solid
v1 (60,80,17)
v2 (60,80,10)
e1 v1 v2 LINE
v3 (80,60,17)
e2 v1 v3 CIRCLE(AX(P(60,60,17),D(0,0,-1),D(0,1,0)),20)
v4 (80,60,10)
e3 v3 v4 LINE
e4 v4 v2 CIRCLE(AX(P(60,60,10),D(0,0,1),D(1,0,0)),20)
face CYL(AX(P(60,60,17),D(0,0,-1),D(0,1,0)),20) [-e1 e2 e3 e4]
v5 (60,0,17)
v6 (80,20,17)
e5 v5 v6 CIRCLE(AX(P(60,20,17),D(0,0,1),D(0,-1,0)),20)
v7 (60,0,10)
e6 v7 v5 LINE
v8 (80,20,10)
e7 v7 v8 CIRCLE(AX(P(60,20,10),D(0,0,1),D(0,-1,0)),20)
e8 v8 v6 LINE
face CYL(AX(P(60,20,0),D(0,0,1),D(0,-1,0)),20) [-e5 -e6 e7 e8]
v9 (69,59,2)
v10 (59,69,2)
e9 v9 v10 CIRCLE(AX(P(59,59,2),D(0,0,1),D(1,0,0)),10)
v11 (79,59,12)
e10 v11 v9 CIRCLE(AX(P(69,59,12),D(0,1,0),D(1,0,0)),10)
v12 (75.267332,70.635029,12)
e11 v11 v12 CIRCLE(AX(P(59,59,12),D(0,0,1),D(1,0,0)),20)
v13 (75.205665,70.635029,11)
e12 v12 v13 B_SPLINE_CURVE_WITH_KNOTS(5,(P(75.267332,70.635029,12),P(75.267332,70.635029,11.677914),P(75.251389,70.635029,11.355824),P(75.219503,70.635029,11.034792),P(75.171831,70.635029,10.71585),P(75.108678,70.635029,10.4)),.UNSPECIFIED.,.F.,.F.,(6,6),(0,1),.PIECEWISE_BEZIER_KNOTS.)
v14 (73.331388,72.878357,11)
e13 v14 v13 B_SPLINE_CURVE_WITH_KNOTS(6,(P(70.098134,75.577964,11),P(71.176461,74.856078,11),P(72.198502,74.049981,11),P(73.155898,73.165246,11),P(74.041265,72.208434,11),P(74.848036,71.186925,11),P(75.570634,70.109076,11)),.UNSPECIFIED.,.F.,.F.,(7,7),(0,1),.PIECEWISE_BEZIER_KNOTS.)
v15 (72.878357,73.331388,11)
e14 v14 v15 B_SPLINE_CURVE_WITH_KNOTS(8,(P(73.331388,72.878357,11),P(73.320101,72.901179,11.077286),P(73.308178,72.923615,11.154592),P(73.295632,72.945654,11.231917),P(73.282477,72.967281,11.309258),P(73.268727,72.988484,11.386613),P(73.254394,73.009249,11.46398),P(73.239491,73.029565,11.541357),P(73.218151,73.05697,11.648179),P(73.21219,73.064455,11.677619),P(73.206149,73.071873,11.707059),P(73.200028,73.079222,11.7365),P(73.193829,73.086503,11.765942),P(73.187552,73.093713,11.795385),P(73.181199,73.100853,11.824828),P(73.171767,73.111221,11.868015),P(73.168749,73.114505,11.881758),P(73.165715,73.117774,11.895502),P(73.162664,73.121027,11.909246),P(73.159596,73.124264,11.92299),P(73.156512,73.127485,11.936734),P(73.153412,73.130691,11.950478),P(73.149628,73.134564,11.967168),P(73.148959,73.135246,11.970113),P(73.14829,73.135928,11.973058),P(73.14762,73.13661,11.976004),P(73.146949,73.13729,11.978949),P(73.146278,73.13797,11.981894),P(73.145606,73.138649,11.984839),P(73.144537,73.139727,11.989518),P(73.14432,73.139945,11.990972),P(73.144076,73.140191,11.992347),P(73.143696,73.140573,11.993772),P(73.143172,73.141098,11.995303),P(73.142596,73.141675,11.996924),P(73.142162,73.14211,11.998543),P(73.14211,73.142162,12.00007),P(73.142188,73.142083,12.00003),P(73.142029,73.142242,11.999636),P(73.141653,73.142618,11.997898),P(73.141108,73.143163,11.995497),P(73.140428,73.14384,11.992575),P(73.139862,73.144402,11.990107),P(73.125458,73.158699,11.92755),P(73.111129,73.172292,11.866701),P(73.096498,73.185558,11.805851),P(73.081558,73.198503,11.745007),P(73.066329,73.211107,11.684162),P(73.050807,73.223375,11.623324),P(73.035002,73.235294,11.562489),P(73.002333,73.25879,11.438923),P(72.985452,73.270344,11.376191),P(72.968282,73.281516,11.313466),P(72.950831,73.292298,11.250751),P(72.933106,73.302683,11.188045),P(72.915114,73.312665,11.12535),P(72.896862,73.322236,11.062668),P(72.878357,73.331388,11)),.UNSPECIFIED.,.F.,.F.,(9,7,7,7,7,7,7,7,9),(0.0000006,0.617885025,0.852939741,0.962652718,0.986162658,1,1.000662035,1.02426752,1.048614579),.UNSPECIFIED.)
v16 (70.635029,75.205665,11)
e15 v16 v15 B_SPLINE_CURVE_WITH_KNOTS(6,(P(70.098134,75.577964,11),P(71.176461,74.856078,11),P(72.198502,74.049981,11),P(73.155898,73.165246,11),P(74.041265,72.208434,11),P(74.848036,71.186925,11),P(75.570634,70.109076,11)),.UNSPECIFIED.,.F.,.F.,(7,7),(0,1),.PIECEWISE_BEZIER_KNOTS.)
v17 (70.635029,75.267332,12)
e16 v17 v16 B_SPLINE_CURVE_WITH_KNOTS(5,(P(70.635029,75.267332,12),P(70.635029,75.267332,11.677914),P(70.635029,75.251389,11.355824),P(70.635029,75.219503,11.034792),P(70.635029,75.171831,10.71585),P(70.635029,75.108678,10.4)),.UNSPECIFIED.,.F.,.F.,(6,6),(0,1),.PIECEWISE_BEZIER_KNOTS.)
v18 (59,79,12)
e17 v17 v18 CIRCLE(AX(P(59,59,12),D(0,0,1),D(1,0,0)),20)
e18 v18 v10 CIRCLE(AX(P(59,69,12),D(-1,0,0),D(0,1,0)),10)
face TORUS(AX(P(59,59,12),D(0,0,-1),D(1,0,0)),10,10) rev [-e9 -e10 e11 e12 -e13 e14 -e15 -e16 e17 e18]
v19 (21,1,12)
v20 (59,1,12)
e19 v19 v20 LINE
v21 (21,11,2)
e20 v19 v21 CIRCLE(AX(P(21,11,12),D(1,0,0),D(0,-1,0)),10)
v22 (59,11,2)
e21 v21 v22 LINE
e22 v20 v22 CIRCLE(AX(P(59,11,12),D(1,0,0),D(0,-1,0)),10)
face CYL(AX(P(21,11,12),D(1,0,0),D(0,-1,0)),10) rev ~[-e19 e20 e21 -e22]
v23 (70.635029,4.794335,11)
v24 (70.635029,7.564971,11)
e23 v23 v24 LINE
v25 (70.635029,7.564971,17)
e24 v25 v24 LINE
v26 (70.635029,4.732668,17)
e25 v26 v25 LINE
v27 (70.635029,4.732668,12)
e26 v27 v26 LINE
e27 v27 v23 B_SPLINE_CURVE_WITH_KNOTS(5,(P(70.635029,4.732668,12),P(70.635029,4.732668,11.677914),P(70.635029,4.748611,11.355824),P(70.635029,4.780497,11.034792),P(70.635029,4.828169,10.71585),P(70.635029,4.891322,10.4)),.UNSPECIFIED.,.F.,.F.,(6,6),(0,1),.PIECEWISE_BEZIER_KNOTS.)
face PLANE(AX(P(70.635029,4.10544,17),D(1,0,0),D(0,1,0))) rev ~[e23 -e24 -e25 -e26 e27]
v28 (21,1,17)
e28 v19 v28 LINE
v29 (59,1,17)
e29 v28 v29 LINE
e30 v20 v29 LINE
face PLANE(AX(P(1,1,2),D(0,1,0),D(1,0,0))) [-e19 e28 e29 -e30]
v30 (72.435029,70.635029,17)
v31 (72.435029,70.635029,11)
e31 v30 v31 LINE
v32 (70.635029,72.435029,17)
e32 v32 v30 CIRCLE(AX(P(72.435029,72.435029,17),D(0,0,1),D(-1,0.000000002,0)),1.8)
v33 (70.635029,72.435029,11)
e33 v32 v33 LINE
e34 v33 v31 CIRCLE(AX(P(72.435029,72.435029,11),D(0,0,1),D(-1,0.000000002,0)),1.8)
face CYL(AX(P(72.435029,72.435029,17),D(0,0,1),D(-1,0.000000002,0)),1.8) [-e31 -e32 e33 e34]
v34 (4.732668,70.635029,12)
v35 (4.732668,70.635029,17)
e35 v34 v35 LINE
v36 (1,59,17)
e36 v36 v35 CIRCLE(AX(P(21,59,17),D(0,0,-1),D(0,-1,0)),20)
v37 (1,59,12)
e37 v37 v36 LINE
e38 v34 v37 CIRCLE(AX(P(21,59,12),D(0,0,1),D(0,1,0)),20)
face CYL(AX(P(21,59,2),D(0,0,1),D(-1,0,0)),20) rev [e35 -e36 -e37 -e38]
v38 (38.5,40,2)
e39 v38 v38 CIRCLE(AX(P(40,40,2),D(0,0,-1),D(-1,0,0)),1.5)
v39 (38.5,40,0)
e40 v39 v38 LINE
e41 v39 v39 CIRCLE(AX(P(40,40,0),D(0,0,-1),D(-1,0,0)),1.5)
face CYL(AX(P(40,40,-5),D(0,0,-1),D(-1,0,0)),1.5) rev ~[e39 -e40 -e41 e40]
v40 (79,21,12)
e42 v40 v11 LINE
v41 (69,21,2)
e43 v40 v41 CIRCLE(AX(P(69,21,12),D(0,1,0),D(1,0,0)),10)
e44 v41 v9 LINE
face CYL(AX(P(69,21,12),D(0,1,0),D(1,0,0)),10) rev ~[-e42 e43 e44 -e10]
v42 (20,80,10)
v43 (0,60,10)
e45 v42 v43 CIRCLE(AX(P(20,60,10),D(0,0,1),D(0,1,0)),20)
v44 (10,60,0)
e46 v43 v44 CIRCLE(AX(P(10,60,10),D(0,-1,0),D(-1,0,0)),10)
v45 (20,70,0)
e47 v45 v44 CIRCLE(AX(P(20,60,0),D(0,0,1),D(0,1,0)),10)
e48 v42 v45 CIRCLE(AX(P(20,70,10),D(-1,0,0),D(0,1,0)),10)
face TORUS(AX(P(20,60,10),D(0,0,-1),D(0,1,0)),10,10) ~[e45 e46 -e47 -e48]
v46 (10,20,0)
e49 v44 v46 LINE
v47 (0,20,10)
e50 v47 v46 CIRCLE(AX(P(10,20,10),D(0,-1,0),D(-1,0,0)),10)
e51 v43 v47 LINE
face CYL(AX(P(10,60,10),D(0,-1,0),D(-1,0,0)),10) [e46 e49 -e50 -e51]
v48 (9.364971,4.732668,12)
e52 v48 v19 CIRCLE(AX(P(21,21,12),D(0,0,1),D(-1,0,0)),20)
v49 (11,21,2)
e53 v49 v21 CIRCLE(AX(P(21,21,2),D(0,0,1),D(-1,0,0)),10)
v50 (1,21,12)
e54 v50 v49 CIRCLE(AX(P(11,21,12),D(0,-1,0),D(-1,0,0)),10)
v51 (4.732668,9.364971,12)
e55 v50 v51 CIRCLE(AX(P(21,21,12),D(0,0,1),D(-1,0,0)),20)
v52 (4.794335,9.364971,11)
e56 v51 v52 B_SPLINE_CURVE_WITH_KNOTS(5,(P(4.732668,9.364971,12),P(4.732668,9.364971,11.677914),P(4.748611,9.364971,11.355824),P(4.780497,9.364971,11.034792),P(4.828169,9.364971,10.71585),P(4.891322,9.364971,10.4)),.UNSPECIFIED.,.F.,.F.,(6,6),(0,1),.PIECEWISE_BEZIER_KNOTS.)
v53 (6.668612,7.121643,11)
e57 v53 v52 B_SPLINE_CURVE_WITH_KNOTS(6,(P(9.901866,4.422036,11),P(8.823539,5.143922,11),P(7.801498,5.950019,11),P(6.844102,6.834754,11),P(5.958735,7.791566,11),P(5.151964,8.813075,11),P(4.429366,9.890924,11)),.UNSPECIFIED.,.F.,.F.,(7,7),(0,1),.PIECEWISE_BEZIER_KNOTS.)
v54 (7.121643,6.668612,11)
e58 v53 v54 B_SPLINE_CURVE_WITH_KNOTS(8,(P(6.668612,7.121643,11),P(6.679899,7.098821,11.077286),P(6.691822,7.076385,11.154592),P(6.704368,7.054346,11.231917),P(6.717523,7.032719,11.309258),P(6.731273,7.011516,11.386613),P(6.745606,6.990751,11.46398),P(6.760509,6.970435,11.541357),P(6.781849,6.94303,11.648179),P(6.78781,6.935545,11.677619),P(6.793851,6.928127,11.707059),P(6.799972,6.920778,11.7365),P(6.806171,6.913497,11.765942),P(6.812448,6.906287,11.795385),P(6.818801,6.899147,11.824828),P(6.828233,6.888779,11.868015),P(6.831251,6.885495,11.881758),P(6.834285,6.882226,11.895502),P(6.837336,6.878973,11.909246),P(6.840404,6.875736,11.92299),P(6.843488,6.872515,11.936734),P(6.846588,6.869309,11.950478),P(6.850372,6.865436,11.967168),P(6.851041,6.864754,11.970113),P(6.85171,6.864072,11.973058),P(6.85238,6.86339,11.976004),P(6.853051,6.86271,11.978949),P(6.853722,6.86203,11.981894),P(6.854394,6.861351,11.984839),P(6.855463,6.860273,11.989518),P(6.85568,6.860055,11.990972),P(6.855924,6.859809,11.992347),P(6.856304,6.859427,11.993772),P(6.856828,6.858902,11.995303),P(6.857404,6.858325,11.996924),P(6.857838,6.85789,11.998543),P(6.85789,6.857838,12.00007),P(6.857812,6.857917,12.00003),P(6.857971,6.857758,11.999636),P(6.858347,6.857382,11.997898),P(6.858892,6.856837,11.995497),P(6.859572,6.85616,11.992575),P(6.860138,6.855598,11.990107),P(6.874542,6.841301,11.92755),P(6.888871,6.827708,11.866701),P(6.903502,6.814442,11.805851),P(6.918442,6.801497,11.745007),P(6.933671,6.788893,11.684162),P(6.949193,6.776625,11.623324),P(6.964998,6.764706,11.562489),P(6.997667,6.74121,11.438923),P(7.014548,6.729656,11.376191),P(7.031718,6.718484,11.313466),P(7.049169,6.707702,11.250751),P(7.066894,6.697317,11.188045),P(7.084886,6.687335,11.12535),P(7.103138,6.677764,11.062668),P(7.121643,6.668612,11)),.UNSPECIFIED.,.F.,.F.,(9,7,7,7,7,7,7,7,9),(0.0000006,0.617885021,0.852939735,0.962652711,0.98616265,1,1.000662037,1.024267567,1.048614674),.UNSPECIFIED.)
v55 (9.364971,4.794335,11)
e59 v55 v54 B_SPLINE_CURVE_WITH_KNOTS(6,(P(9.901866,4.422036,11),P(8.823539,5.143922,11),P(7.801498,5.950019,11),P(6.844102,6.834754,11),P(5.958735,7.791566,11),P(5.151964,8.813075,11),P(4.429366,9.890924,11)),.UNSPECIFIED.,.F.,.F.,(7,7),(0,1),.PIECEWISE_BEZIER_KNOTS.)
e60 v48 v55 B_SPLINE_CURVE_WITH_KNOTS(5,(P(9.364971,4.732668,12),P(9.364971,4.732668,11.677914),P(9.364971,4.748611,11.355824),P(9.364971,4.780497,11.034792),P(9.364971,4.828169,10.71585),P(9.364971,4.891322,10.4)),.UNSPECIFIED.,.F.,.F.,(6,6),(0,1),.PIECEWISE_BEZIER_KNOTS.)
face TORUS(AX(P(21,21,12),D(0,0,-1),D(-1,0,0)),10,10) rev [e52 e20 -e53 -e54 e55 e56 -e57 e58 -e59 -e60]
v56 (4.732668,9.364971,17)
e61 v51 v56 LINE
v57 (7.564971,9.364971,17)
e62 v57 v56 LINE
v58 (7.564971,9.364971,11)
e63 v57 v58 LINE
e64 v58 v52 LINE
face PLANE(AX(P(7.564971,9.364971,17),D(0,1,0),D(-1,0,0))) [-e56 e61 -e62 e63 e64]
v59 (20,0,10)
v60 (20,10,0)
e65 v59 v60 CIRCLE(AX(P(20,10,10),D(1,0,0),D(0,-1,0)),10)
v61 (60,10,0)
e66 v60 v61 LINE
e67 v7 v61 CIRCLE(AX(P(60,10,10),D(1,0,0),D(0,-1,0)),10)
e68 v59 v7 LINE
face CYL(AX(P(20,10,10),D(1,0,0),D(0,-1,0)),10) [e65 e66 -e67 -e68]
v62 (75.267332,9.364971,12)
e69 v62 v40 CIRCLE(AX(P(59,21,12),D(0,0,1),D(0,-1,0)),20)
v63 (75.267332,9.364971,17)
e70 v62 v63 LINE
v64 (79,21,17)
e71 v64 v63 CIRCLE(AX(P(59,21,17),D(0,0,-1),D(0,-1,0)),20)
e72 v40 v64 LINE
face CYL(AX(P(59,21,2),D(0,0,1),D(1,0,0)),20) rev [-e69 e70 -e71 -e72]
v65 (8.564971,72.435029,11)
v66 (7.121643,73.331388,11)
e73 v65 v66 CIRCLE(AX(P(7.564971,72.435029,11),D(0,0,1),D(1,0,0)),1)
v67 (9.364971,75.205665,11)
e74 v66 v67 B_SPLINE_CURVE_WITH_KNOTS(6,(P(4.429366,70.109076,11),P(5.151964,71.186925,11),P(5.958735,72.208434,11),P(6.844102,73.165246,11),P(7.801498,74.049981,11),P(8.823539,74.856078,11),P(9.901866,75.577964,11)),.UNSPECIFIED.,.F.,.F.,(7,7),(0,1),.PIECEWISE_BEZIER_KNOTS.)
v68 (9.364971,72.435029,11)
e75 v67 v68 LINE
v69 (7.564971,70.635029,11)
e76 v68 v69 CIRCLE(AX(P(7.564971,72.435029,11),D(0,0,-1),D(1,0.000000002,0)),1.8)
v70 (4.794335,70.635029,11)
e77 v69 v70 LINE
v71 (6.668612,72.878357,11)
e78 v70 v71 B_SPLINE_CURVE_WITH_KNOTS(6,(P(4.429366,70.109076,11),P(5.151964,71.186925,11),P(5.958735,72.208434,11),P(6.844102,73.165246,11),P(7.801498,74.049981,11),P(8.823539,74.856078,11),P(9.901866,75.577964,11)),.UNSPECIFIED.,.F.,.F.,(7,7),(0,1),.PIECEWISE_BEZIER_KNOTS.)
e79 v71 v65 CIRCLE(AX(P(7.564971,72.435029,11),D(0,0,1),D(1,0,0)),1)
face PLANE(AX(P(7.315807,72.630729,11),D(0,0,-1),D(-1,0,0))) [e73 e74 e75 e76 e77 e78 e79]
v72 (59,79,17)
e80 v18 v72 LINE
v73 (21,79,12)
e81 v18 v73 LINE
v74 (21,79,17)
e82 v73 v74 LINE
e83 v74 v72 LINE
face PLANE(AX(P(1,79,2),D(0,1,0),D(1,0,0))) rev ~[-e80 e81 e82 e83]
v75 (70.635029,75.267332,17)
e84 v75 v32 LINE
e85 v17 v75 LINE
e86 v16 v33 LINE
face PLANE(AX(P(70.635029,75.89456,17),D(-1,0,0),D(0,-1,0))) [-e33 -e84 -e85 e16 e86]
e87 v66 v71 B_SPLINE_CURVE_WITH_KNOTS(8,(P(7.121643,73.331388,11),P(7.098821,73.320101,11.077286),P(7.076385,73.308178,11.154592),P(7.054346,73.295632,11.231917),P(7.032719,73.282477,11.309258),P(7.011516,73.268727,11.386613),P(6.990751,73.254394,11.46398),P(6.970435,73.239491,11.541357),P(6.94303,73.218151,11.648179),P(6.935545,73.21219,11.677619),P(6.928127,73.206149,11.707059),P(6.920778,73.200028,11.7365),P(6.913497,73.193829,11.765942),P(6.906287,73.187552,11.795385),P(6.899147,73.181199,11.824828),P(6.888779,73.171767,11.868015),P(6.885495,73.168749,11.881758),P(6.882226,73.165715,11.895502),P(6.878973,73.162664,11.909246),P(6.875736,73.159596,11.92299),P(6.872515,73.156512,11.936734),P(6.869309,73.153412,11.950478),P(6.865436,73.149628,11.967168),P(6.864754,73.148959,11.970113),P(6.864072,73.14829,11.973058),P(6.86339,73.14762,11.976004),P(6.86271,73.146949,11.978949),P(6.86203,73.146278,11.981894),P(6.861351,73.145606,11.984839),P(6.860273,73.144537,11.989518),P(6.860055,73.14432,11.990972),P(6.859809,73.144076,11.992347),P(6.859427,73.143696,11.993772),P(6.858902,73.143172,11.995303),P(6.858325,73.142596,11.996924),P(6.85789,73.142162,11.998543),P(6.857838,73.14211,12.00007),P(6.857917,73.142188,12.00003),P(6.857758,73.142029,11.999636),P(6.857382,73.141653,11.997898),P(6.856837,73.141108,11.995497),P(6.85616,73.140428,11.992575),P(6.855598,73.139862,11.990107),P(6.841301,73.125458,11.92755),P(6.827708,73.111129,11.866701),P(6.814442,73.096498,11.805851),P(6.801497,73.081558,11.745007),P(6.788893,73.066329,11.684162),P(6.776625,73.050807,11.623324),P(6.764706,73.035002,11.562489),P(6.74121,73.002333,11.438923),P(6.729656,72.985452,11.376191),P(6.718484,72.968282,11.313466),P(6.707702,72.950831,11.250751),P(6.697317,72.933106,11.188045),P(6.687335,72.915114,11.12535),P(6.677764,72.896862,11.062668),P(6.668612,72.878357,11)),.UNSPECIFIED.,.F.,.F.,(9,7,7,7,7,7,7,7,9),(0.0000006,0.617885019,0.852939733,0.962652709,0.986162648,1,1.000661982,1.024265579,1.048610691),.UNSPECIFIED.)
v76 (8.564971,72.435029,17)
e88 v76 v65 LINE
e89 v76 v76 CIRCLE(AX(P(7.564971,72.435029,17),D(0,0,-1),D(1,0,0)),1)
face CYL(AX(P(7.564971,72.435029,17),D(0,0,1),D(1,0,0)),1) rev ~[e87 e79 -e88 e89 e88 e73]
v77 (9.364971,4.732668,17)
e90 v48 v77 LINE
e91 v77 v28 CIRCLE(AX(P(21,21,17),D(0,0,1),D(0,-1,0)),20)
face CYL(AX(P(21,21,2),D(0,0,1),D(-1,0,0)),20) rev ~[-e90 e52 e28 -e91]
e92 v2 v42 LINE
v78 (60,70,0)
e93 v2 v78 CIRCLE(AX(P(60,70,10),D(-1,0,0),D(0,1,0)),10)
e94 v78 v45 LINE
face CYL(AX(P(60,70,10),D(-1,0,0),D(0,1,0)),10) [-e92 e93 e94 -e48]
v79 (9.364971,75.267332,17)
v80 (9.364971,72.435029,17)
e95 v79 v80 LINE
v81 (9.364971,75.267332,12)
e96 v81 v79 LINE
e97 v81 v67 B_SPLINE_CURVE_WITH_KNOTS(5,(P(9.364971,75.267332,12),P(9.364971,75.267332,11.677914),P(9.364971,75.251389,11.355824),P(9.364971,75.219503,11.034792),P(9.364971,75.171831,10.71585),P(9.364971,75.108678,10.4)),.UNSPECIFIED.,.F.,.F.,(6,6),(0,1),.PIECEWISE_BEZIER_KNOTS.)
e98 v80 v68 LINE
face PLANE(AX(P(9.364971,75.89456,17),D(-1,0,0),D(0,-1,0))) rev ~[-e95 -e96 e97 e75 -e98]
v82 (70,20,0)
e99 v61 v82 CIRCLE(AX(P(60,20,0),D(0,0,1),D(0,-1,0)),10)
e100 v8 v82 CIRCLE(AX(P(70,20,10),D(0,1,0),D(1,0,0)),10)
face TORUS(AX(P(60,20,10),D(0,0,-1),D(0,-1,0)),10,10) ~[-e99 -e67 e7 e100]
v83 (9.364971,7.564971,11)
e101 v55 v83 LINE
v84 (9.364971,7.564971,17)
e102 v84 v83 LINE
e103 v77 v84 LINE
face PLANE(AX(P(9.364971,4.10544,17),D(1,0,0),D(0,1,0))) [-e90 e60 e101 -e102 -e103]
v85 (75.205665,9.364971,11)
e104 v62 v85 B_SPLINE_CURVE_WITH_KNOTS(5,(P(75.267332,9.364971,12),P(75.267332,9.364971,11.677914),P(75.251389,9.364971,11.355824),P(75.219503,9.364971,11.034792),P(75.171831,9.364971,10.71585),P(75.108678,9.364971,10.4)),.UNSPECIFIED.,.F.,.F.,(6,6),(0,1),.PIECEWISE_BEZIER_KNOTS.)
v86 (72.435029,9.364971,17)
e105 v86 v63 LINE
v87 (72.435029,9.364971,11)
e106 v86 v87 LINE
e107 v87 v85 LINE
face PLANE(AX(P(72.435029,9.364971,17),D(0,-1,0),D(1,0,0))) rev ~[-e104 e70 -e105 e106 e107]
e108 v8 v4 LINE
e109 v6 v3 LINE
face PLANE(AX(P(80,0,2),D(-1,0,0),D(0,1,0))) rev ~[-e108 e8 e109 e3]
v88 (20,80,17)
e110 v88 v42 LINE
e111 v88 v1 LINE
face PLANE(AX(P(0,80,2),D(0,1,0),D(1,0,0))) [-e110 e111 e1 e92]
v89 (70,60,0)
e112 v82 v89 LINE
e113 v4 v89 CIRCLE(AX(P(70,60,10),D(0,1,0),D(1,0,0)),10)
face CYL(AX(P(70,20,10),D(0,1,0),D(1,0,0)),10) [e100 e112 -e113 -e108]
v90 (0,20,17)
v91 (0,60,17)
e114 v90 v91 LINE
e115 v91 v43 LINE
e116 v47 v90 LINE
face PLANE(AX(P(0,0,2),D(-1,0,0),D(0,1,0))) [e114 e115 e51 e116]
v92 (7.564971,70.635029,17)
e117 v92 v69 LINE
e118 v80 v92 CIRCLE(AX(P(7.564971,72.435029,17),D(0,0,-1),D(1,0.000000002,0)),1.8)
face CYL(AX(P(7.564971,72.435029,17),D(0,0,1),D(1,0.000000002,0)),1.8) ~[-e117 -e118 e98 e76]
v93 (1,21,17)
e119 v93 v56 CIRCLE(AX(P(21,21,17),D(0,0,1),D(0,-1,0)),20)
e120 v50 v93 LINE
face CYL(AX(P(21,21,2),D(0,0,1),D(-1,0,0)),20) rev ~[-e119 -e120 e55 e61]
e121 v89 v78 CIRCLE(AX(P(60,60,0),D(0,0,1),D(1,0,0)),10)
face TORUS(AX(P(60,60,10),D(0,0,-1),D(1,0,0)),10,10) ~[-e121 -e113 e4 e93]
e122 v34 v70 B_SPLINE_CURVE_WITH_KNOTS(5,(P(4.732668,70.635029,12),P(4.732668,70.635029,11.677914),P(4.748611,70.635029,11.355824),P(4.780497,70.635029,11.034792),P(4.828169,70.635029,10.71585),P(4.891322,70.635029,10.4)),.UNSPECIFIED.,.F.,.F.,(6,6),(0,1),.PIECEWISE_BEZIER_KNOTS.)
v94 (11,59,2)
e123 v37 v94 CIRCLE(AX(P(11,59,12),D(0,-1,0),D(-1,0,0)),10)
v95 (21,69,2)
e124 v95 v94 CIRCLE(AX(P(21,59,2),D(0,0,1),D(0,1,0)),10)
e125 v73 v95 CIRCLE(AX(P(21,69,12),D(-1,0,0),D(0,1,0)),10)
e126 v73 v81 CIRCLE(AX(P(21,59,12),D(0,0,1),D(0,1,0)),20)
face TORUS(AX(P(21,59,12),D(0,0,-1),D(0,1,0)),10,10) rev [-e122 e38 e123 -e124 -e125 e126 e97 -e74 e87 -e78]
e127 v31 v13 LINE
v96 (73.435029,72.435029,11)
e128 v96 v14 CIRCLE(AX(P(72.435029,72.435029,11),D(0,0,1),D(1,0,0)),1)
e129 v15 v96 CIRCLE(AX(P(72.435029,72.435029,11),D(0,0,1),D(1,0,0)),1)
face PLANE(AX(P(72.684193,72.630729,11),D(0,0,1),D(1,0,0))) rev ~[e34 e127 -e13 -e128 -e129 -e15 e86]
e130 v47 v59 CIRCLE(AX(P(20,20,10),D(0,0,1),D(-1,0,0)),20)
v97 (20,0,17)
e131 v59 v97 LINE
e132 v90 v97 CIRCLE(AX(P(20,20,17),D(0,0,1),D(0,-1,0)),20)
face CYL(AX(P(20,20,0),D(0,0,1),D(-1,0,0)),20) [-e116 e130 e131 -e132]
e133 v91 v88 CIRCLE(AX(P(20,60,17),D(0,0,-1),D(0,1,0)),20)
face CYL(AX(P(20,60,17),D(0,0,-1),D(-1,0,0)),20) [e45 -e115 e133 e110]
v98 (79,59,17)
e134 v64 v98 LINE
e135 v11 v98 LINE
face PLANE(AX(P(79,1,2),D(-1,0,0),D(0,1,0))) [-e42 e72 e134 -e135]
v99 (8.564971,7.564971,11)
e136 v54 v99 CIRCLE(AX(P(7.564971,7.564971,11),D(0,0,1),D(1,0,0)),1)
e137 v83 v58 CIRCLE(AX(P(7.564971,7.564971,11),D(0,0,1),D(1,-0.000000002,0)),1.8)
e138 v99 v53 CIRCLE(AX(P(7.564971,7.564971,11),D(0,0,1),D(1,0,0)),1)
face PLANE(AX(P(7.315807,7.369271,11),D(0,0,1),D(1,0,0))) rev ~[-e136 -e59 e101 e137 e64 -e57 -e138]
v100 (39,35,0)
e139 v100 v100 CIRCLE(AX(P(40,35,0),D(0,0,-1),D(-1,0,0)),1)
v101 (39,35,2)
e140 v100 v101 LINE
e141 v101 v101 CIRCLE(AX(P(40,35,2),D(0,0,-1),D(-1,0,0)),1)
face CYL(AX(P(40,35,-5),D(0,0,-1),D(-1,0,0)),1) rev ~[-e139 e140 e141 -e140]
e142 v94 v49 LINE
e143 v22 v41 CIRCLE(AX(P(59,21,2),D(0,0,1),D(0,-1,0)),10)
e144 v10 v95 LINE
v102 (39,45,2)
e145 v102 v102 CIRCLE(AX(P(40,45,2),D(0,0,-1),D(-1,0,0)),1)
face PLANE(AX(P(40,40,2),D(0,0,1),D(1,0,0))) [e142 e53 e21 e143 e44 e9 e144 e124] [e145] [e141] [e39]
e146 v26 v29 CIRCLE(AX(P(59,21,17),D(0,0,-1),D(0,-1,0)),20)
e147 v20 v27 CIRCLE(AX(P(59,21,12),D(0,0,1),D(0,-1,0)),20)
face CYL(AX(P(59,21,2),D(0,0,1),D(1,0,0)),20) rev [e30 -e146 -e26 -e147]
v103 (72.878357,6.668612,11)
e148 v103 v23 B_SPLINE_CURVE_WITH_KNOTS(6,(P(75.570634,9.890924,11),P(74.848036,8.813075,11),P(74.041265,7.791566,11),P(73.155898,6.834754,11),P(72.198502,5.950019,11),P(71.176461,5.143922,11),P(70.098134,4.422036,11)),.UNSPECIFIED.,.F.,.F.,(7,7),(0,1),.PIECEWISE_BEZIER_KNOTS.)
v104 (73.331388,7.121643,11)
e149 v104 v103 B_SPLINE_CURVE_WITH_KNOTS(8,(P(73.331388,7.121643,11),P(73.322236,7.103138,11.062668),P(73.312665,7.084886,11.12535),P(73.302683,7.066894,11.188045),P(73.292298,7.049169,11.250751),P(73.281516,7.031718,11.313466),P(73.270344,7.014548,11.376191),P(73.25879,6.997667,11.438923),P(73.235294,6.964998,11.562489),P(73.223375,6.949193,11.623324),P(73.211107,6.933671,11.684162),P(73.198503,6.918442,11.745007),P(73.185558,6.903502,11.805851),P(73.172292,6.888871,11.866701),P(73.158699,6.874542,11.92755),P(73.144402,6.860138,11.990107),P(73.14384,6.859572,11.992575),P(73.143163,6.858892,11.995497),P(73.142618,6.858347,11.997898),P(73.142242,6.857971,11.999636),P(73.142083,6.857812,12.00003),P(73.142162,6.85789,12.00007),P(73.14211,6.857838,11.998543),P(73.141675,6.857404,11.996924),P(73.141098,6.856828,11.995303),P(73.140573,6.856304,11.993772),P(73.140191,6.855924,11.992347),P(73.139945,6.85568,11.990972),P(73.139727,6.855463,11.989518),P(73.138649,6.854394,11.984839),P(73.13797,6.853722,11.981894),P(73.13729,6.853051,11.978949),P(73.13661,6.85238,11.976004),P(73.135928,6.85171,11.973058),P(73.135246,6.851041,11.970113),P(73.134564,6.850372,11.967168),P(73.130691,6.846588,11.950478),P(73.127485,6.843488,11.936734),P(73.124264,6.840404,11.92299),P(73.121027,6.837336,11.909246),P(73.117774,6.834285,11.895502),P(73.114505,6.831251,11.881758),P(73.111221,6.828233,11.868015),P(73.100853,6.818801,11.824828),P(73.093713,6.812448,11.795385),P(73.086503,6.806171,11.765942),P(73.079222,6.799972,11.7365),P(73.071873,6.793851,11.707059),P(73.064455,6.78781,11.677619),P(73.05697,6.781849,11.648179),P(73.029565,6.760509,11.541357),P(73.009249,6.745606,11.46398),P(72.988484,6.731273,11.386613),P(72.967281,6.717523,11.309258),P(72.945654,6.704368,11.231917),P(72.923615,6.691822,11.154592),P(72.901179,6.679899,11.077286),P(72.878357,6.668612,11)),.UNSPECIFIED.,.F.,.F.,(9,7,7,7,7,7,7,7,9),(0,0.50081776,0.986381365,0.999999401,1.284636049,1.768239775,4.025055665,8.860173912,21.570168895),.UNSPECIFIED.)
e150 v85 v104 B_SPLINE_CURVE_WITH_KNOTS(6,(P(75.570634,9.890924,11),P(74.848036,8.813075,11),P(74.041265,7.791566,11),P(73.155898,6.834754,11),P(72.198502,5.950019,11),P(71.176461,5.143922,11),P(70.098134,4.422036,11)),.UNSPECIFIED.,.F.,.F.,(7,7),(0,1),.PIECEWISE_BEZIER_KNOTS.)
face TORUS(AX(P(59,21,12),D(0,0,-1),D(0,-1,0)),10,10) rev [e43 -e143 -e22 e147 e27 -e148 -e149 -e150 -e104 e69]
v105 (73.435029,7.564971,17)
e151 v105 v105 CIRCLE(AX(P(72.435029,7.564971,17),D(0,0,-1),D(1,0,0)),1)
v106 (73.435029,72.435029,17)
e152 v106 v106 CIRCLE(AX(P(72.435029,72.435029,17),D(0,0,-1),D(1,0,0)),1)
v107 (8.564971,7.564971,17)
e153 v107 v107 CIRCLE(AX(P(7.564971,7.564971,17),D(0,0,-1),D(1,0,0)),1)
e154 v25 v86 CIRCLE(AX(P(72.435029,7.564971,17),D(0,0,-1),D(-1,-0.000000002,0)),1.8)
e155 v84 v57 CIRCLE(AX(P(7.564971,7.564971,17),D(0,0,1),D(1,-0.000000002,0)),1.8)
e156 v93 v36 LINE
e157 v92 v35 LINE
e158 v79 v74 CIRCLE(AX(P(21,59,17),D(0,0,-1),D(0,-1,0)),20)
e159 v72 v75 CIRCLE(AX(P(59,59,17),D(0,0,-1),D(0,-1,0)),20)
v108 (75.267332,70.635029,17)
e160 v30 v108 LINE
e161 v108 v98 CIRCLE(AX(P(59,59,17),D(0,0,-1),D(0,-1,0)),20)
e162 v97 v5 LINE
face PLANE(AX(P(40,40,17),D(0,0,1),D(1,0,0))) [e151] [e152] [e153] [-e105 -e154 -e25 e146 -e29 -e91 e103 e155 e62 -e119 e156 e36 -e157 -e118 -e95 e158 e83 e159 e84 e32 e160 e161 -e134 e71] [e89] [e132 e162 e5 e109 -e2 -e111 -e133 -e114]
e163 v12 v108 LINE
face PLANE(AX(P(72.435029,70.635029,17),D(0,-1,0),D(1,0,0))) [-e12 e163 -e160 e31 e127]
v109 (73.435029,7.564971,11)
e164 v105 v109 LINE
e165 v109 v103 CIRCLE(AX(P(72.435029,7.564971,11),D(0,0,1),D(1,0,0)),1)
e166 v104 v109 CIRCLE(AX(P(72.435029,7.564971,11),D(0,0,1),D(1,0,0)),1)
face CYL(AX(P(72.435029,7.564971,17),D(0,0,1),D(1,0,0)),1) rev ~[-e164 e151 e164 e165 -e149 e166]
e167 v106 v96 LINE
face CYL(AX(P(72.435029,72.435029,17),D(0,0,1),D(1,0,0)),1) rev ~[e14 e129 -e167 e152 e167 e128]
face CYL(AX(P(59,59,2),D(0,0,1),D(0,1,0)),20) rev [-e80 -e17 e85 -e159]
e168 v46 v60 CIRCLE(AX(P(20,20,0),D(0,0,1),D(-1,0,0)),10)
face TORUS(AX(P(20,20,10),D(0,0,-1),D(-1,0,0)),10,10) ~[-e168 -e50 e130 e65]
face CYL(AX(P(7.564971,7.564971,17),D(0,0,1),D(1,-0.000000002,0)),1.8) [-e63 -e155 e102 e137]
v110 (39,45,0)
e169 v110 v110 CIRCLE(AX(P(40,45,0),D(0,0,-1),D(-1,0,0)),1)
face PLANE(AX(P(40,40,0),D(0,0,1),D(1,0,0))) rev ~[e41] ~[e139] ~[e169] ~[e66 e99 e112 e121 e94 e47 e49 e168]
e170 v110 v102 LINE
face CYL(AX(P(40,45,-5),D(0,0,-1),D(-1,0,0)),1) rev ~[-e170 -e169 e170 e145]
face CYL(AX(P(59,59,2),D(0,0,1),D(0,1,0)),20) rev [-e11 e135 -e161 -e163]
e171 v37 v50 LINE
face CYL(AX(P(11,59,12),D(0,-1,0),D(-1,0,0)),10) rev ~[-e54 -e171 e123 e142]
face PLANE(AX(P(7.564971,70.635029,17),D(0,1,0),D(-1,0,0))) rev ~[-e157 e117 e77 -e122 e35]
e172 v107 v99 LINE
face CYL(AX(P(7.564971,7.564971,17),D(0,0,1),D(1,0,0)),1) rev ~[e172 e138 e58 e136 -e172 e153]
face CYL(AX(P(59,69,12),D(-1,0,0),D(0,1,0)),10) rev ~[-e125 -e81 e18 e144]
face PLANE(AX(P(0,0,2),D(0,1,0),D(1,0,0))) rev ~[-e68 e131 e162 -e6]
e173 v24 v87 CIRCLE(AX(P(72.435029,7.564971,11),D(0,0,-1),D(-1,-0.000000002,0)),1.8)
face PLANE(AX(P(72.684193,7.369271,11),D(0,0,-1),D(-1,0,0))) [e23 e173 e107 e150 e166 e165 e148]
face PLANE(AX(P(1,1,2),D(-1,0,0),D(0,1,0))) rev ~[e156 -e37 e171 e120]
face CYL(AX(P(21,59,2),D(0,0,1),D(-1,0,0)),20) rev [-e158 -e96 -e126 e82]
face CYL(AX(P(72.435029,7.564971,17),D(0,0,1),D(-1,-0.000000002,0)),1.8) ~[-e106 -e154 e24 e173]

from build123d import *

# Parameters (mm, degrees)
SKETCH1_W           = 80
SKETCH1_H           = 80
BOSS_EXTRUDE1_DEPTH = 2
SKETCH2_W           = 80
SKETCH2_H           = 80
SKETCH2_W_2         = 78
SKETCH2_H_2         = 78
BOSS_EXTRUDE2_DEPTH = 15
FILLET1_R           = 20
FILLET2_R           = 10
FILLET3_R           = 20
FILLET4_R           = 10
SKETCH3_R           = 1
BOSS_EXTRUDE3_DEPTH = 6
SKETCH4_W           = 10
SKETCH4_H           = 10
BOSS_EXTRUDE4_DEPTH = 5
SKETCH5_W           = 6
SKETCH5_H           = 20
BOSS_EXTRUDE5_DEPTH = 20
CUT_EXTRUDE1_DEPTH  = 23
SKETCH7_R           = 2
CUT_EXTRUDE2_DEPTH  = 23
SKETCH8_R           = 3.5
CUT_EXTRUDE3_DEPTH  = 3
SKETCH9_R           = 1
CUT_EXTRUDE4_DEPTH  = 18
SKETCH10_R          = 1.5
CUT_EXTRUDE5_DEPTH  = 18
SKETCH12_W          = 51.714198926
SKETCH12_H          = 32.805177312
CUT_EXTRUDE7_DEPTH  = 37


with BuildPart() as part:
    # Sketch1 → Boss-Extrude1 (new body)
    with BuildSketch(Plane.XY):
        with Locations((40, 40)):
            Rectangle(SKETCH1_W, SKETCH1_H)
    extrude(amount=BOSS_EXTRUDE1_DEPTH)

    # Sketch2 → Boss-Extrude2 (add)
    with BuildSketch(Plane.XY.offset(2)):
        with Locations((40, 40)):
            Rectangle(SKETCH2_W, SKETCH2_H)
        with Locations((40, 40)):
            Rectangle(SKETCH2_W_2, SKETCH2_H_2, mode=Mode.SUBTRACT)
    extrude(amount=BOSS_EXTRUDE2_DEPTH)

    # Fillet1
    fillet1_edges = [part.edges().sort_by_distance(p)[0] for p in [
        (1, 79, 9.5),
        (1, 1, 9.5),
        (79, 1, 9.5),
        (79, 79, 9.5),
    ]]
    fillet(fillet1_edges, radius=FILLET1_R)

    # Fillet2
    fillet2_edges = [part.edges().sort_by_distance(p)[0] for p in [
        (40, 1, 2),
        (79, 40, 2),
        (40, 79, 2),
        (1, 40, 2),
        (6.857864376, 73.142135624, 2),
        (73.142135624, 73.142135624, 2),
        (6.857864376, 6.857864376, 2),
        (73.142135624, 6.857864376, 2),
    ]]
    fillet(fillet2_edges, radius=FILLET2_R)

    # Fillet3
    fillet3_edges = [part.edges().sort_by_distance(p)[0] for p in [
        (0, 80, 8.5),
        (80, 80, 8.5),
        (80, 0, 8.5),
        (0, 0, 8.5),
    ]]
    fillet(fillet3_edges, radius=FILLET3_R)

    # Fillet4
    fillet4_edges = [part.edges().sort_by_distance(p)[0] for p in [
        (80, 40, 0),
        (0, 40, 0),
        (40, 80, 0),
        (40, 0, 0),
        (5.857864376, 5.857864376, 0),
        (5.857864376, 74.142135624, 0),
        (74.142135624, 74.142135624, 0),
        (74.142135624, 5.857864376, 0),
    ]]
    fillet(fillet4_edges, radius=FILLET4_R)

    # Sketch3 → Boss-Extrude3 (add)
    with BuildSketch(Plane.XY.offset(17)):
        with BuildLine():
            Line((72.292824946, 5.37212195), (70.635028843, 4.105439789))
            Line((70.635028843, 4.105439789), (70.635028843, 7.564971157))
            ThreePointArc((70.635028843, 7.564971157), (71.162236636, 8.837763364), (72.435028843, 9.364971157))
            Line((72.435028843, 9.364971157), (76.003973901, 9.364971157))
            Line((76.003973901, 9.364971157), (72.292824946, 5.37212195))
        make_face()
        with Locations((72.435028843, 7.564971157)):
            Circle(SKETCH3_R, mode=Mode.SUBTRACT)
        with BuildLine():
            Line((9.364971157, 4.105439789), (9.364971157, 7.564971157))
            ThreePointArc((9.364971157, 7.564971157), (8.837763364, 8.837763364), (7.564971157, 9.364971157))
            Line((7.564971157, 9.364971157), (3.996026099, 9.364971157))
            Line((3.996026099, 9.364971157), (7.707175054, 5.37212195))
            Line((7.707175054, 5.37212195), (9.364971157, 4.105439789))
        make_face()
        with Locations((7.564971157, 7.564971157)):
            Circle(SKETCH3_R, mode=Mode.SUBTRACT)
        with BuildLine():
            Line((70.635028843, 75.894560211), (70.635028843, 72.435028843))
            ThreePointArc((70.635028843, 72.435028843), (71.162236636, 71.162236636), (72.435028843, 70.635028843))
            Line((72.435028843, 70.635028843), (76.003973901, 70.635028843))
            Line((76.003973901, 70.635028843), (72.292824946, 74.62787805))
            Line((72.292824946, 74.62787805), (70.635028843, 75.894560211))
        make_face()
        with Locations((72.435028843, 72.435028843)):
            Circle(SKETCH3_R, mode=Mode.SUBTRACT)
        with BuildLine():
            Line((7.707175054, 74.62787805), (9.364971157, 75.894560211))
            Line((9.364971157, 75.894560211), (9.364971157, 72.435028843))
            ThreePointArc((9.364971157, 72.435028843), (8.837763364, 71.162236636), (7.564971157, 70.635028843))
            Line((7.564971157, 70.635028843), (3.996026099, 70.635028843))
            Line((3.996026099, 70.635028843), (7.707175054, 74.62787805))
        make_face()
        with Locations((7.564971157, 72.435028843)):
            Circle(SKETCH3_R, mode=Mode.SUBTRACT)
    extrude(amount=-BOSS_EXTRUDE3_DEPTH)

    # Sketch4 → Boss-Extrude4 (add)
    with BuildSketch(Plane(origin=(0, 0, 0), x_dir=(-1, 0, 0), z_dir=(0, 0, -1))):
        with Locations((-35, 35)):
            Rectangle(SKETCH4_W, SKETCH4_H)
        with Locations((-35, 45)):
            Rectangle(SKETCH4_W, SKETCH4_H)
        with Locations((-45, 45)):
            Rectangle(SKETCH4_W, SKETCH4_H)
        with Locations((-45, 35)):
            Rectangle(SKETCH4_W, SKETCH4_H)
    extrude(amount=BOSS_EXTRUDE4_DEPTH)

    # Sketch5 → Boss-Extrude5 (add)
    with BuildSketch(Plane(origin=(0, 0, -5), x_dir=(-1, 0, 0), z_dir=(0, 0, -1))):
        with Locations((-33, 40)):
            Rectangle(SKETCH5_W, SKETCH5_H)
        with Locations((-47, 40)):
            Rectangle(SKETCH5_W, SKETCH5_H)
    extrude(amount=BOSS_EXTRUDE5_DEPTH)

    # Sketch6 → Cut-Extrude1 (cut)
    with BuildSketch(Plane.ZY.offset(-30)):
        with BuildLine():
            Line((-15, 30), (-19.756708154, 21.186247086))
            Line((-19.756708154, 21.186247086), (-29.168380108, 27.64799201))
            Line((-29.168380108, 27.64799201), (-29.168380108, 53.846153493))
            Line((-29.168380108, 53.846153493), (-15, 50))
            ThreePointArc((-15, 50), (-25, 40), (-15, 30))
        make_face()
    extrude(amount=-CUT_EXTRUDE1_DEPTH, mode=Mode.SUBTRACT)

    # Sketch7 → Cut-Extrude2 (cut)
    with BuildSketch(Plane.ZY.offset(-30)):
        with Locations((-15, 40)):
            Circle(SKETCH7_R)
    extrude(amount=-CUT_EXTRUDE2_DEPTH, mode=Mode.SUBTRACT)

    # Sketch8 → Cut-Extrude3 (cut)
    with BuildSketch(Plane.ZY.offset(-30)):
        with Locations((-15, 40)):
            Circle(SKETCH8_R)
    extrude(amount=-CUT_EXTRUDE3_DEPTH, mode=Mode.SUBTRACT)

    # Sketch9 → Cut-Extrude4 (cut)
    with BuildSketch(Plane(origin=(0, 0, -5), x_dir=(-1, 0, 0), z_dir=(0, 0, -1))):
        with Locations((-40, 45)):
            Circle(SKETCH9_R)
        with Locations((-40, 35)):
            Circle(SKETCH9_R)
    extrude(amount=-CUT_EXTRUDE4_DEPTH, mode=Mode.SUBTRACT)

    # Sketch10 → Cut-Extrude5 (cut)
    with BuildSketch(Plane(origin=(0, 0, -5), x_dir=(-1, 0, 0), z_dir=(0, 0, -1))):
        with Locations((-40, 40)):
            Circle(SKETCH10_R)
    extrude(amount=-CUT_EXTRUDE5_DEPTH, mode=Mode.SUBTRACT)

    # Sketch12 → Cut-Extrude7 (cut)
    with BuildSketch(Plane.XZ.offset(-30)):
        with Locations((40.307091443, -16.402588656)):
            Rectangle(SKETCH12_W, SKETCH12_H)
    extrude(amount=-CUT_EXTRUDE7_DEPTH, mode=Mode.SUBTRACT)


solid = part.part
